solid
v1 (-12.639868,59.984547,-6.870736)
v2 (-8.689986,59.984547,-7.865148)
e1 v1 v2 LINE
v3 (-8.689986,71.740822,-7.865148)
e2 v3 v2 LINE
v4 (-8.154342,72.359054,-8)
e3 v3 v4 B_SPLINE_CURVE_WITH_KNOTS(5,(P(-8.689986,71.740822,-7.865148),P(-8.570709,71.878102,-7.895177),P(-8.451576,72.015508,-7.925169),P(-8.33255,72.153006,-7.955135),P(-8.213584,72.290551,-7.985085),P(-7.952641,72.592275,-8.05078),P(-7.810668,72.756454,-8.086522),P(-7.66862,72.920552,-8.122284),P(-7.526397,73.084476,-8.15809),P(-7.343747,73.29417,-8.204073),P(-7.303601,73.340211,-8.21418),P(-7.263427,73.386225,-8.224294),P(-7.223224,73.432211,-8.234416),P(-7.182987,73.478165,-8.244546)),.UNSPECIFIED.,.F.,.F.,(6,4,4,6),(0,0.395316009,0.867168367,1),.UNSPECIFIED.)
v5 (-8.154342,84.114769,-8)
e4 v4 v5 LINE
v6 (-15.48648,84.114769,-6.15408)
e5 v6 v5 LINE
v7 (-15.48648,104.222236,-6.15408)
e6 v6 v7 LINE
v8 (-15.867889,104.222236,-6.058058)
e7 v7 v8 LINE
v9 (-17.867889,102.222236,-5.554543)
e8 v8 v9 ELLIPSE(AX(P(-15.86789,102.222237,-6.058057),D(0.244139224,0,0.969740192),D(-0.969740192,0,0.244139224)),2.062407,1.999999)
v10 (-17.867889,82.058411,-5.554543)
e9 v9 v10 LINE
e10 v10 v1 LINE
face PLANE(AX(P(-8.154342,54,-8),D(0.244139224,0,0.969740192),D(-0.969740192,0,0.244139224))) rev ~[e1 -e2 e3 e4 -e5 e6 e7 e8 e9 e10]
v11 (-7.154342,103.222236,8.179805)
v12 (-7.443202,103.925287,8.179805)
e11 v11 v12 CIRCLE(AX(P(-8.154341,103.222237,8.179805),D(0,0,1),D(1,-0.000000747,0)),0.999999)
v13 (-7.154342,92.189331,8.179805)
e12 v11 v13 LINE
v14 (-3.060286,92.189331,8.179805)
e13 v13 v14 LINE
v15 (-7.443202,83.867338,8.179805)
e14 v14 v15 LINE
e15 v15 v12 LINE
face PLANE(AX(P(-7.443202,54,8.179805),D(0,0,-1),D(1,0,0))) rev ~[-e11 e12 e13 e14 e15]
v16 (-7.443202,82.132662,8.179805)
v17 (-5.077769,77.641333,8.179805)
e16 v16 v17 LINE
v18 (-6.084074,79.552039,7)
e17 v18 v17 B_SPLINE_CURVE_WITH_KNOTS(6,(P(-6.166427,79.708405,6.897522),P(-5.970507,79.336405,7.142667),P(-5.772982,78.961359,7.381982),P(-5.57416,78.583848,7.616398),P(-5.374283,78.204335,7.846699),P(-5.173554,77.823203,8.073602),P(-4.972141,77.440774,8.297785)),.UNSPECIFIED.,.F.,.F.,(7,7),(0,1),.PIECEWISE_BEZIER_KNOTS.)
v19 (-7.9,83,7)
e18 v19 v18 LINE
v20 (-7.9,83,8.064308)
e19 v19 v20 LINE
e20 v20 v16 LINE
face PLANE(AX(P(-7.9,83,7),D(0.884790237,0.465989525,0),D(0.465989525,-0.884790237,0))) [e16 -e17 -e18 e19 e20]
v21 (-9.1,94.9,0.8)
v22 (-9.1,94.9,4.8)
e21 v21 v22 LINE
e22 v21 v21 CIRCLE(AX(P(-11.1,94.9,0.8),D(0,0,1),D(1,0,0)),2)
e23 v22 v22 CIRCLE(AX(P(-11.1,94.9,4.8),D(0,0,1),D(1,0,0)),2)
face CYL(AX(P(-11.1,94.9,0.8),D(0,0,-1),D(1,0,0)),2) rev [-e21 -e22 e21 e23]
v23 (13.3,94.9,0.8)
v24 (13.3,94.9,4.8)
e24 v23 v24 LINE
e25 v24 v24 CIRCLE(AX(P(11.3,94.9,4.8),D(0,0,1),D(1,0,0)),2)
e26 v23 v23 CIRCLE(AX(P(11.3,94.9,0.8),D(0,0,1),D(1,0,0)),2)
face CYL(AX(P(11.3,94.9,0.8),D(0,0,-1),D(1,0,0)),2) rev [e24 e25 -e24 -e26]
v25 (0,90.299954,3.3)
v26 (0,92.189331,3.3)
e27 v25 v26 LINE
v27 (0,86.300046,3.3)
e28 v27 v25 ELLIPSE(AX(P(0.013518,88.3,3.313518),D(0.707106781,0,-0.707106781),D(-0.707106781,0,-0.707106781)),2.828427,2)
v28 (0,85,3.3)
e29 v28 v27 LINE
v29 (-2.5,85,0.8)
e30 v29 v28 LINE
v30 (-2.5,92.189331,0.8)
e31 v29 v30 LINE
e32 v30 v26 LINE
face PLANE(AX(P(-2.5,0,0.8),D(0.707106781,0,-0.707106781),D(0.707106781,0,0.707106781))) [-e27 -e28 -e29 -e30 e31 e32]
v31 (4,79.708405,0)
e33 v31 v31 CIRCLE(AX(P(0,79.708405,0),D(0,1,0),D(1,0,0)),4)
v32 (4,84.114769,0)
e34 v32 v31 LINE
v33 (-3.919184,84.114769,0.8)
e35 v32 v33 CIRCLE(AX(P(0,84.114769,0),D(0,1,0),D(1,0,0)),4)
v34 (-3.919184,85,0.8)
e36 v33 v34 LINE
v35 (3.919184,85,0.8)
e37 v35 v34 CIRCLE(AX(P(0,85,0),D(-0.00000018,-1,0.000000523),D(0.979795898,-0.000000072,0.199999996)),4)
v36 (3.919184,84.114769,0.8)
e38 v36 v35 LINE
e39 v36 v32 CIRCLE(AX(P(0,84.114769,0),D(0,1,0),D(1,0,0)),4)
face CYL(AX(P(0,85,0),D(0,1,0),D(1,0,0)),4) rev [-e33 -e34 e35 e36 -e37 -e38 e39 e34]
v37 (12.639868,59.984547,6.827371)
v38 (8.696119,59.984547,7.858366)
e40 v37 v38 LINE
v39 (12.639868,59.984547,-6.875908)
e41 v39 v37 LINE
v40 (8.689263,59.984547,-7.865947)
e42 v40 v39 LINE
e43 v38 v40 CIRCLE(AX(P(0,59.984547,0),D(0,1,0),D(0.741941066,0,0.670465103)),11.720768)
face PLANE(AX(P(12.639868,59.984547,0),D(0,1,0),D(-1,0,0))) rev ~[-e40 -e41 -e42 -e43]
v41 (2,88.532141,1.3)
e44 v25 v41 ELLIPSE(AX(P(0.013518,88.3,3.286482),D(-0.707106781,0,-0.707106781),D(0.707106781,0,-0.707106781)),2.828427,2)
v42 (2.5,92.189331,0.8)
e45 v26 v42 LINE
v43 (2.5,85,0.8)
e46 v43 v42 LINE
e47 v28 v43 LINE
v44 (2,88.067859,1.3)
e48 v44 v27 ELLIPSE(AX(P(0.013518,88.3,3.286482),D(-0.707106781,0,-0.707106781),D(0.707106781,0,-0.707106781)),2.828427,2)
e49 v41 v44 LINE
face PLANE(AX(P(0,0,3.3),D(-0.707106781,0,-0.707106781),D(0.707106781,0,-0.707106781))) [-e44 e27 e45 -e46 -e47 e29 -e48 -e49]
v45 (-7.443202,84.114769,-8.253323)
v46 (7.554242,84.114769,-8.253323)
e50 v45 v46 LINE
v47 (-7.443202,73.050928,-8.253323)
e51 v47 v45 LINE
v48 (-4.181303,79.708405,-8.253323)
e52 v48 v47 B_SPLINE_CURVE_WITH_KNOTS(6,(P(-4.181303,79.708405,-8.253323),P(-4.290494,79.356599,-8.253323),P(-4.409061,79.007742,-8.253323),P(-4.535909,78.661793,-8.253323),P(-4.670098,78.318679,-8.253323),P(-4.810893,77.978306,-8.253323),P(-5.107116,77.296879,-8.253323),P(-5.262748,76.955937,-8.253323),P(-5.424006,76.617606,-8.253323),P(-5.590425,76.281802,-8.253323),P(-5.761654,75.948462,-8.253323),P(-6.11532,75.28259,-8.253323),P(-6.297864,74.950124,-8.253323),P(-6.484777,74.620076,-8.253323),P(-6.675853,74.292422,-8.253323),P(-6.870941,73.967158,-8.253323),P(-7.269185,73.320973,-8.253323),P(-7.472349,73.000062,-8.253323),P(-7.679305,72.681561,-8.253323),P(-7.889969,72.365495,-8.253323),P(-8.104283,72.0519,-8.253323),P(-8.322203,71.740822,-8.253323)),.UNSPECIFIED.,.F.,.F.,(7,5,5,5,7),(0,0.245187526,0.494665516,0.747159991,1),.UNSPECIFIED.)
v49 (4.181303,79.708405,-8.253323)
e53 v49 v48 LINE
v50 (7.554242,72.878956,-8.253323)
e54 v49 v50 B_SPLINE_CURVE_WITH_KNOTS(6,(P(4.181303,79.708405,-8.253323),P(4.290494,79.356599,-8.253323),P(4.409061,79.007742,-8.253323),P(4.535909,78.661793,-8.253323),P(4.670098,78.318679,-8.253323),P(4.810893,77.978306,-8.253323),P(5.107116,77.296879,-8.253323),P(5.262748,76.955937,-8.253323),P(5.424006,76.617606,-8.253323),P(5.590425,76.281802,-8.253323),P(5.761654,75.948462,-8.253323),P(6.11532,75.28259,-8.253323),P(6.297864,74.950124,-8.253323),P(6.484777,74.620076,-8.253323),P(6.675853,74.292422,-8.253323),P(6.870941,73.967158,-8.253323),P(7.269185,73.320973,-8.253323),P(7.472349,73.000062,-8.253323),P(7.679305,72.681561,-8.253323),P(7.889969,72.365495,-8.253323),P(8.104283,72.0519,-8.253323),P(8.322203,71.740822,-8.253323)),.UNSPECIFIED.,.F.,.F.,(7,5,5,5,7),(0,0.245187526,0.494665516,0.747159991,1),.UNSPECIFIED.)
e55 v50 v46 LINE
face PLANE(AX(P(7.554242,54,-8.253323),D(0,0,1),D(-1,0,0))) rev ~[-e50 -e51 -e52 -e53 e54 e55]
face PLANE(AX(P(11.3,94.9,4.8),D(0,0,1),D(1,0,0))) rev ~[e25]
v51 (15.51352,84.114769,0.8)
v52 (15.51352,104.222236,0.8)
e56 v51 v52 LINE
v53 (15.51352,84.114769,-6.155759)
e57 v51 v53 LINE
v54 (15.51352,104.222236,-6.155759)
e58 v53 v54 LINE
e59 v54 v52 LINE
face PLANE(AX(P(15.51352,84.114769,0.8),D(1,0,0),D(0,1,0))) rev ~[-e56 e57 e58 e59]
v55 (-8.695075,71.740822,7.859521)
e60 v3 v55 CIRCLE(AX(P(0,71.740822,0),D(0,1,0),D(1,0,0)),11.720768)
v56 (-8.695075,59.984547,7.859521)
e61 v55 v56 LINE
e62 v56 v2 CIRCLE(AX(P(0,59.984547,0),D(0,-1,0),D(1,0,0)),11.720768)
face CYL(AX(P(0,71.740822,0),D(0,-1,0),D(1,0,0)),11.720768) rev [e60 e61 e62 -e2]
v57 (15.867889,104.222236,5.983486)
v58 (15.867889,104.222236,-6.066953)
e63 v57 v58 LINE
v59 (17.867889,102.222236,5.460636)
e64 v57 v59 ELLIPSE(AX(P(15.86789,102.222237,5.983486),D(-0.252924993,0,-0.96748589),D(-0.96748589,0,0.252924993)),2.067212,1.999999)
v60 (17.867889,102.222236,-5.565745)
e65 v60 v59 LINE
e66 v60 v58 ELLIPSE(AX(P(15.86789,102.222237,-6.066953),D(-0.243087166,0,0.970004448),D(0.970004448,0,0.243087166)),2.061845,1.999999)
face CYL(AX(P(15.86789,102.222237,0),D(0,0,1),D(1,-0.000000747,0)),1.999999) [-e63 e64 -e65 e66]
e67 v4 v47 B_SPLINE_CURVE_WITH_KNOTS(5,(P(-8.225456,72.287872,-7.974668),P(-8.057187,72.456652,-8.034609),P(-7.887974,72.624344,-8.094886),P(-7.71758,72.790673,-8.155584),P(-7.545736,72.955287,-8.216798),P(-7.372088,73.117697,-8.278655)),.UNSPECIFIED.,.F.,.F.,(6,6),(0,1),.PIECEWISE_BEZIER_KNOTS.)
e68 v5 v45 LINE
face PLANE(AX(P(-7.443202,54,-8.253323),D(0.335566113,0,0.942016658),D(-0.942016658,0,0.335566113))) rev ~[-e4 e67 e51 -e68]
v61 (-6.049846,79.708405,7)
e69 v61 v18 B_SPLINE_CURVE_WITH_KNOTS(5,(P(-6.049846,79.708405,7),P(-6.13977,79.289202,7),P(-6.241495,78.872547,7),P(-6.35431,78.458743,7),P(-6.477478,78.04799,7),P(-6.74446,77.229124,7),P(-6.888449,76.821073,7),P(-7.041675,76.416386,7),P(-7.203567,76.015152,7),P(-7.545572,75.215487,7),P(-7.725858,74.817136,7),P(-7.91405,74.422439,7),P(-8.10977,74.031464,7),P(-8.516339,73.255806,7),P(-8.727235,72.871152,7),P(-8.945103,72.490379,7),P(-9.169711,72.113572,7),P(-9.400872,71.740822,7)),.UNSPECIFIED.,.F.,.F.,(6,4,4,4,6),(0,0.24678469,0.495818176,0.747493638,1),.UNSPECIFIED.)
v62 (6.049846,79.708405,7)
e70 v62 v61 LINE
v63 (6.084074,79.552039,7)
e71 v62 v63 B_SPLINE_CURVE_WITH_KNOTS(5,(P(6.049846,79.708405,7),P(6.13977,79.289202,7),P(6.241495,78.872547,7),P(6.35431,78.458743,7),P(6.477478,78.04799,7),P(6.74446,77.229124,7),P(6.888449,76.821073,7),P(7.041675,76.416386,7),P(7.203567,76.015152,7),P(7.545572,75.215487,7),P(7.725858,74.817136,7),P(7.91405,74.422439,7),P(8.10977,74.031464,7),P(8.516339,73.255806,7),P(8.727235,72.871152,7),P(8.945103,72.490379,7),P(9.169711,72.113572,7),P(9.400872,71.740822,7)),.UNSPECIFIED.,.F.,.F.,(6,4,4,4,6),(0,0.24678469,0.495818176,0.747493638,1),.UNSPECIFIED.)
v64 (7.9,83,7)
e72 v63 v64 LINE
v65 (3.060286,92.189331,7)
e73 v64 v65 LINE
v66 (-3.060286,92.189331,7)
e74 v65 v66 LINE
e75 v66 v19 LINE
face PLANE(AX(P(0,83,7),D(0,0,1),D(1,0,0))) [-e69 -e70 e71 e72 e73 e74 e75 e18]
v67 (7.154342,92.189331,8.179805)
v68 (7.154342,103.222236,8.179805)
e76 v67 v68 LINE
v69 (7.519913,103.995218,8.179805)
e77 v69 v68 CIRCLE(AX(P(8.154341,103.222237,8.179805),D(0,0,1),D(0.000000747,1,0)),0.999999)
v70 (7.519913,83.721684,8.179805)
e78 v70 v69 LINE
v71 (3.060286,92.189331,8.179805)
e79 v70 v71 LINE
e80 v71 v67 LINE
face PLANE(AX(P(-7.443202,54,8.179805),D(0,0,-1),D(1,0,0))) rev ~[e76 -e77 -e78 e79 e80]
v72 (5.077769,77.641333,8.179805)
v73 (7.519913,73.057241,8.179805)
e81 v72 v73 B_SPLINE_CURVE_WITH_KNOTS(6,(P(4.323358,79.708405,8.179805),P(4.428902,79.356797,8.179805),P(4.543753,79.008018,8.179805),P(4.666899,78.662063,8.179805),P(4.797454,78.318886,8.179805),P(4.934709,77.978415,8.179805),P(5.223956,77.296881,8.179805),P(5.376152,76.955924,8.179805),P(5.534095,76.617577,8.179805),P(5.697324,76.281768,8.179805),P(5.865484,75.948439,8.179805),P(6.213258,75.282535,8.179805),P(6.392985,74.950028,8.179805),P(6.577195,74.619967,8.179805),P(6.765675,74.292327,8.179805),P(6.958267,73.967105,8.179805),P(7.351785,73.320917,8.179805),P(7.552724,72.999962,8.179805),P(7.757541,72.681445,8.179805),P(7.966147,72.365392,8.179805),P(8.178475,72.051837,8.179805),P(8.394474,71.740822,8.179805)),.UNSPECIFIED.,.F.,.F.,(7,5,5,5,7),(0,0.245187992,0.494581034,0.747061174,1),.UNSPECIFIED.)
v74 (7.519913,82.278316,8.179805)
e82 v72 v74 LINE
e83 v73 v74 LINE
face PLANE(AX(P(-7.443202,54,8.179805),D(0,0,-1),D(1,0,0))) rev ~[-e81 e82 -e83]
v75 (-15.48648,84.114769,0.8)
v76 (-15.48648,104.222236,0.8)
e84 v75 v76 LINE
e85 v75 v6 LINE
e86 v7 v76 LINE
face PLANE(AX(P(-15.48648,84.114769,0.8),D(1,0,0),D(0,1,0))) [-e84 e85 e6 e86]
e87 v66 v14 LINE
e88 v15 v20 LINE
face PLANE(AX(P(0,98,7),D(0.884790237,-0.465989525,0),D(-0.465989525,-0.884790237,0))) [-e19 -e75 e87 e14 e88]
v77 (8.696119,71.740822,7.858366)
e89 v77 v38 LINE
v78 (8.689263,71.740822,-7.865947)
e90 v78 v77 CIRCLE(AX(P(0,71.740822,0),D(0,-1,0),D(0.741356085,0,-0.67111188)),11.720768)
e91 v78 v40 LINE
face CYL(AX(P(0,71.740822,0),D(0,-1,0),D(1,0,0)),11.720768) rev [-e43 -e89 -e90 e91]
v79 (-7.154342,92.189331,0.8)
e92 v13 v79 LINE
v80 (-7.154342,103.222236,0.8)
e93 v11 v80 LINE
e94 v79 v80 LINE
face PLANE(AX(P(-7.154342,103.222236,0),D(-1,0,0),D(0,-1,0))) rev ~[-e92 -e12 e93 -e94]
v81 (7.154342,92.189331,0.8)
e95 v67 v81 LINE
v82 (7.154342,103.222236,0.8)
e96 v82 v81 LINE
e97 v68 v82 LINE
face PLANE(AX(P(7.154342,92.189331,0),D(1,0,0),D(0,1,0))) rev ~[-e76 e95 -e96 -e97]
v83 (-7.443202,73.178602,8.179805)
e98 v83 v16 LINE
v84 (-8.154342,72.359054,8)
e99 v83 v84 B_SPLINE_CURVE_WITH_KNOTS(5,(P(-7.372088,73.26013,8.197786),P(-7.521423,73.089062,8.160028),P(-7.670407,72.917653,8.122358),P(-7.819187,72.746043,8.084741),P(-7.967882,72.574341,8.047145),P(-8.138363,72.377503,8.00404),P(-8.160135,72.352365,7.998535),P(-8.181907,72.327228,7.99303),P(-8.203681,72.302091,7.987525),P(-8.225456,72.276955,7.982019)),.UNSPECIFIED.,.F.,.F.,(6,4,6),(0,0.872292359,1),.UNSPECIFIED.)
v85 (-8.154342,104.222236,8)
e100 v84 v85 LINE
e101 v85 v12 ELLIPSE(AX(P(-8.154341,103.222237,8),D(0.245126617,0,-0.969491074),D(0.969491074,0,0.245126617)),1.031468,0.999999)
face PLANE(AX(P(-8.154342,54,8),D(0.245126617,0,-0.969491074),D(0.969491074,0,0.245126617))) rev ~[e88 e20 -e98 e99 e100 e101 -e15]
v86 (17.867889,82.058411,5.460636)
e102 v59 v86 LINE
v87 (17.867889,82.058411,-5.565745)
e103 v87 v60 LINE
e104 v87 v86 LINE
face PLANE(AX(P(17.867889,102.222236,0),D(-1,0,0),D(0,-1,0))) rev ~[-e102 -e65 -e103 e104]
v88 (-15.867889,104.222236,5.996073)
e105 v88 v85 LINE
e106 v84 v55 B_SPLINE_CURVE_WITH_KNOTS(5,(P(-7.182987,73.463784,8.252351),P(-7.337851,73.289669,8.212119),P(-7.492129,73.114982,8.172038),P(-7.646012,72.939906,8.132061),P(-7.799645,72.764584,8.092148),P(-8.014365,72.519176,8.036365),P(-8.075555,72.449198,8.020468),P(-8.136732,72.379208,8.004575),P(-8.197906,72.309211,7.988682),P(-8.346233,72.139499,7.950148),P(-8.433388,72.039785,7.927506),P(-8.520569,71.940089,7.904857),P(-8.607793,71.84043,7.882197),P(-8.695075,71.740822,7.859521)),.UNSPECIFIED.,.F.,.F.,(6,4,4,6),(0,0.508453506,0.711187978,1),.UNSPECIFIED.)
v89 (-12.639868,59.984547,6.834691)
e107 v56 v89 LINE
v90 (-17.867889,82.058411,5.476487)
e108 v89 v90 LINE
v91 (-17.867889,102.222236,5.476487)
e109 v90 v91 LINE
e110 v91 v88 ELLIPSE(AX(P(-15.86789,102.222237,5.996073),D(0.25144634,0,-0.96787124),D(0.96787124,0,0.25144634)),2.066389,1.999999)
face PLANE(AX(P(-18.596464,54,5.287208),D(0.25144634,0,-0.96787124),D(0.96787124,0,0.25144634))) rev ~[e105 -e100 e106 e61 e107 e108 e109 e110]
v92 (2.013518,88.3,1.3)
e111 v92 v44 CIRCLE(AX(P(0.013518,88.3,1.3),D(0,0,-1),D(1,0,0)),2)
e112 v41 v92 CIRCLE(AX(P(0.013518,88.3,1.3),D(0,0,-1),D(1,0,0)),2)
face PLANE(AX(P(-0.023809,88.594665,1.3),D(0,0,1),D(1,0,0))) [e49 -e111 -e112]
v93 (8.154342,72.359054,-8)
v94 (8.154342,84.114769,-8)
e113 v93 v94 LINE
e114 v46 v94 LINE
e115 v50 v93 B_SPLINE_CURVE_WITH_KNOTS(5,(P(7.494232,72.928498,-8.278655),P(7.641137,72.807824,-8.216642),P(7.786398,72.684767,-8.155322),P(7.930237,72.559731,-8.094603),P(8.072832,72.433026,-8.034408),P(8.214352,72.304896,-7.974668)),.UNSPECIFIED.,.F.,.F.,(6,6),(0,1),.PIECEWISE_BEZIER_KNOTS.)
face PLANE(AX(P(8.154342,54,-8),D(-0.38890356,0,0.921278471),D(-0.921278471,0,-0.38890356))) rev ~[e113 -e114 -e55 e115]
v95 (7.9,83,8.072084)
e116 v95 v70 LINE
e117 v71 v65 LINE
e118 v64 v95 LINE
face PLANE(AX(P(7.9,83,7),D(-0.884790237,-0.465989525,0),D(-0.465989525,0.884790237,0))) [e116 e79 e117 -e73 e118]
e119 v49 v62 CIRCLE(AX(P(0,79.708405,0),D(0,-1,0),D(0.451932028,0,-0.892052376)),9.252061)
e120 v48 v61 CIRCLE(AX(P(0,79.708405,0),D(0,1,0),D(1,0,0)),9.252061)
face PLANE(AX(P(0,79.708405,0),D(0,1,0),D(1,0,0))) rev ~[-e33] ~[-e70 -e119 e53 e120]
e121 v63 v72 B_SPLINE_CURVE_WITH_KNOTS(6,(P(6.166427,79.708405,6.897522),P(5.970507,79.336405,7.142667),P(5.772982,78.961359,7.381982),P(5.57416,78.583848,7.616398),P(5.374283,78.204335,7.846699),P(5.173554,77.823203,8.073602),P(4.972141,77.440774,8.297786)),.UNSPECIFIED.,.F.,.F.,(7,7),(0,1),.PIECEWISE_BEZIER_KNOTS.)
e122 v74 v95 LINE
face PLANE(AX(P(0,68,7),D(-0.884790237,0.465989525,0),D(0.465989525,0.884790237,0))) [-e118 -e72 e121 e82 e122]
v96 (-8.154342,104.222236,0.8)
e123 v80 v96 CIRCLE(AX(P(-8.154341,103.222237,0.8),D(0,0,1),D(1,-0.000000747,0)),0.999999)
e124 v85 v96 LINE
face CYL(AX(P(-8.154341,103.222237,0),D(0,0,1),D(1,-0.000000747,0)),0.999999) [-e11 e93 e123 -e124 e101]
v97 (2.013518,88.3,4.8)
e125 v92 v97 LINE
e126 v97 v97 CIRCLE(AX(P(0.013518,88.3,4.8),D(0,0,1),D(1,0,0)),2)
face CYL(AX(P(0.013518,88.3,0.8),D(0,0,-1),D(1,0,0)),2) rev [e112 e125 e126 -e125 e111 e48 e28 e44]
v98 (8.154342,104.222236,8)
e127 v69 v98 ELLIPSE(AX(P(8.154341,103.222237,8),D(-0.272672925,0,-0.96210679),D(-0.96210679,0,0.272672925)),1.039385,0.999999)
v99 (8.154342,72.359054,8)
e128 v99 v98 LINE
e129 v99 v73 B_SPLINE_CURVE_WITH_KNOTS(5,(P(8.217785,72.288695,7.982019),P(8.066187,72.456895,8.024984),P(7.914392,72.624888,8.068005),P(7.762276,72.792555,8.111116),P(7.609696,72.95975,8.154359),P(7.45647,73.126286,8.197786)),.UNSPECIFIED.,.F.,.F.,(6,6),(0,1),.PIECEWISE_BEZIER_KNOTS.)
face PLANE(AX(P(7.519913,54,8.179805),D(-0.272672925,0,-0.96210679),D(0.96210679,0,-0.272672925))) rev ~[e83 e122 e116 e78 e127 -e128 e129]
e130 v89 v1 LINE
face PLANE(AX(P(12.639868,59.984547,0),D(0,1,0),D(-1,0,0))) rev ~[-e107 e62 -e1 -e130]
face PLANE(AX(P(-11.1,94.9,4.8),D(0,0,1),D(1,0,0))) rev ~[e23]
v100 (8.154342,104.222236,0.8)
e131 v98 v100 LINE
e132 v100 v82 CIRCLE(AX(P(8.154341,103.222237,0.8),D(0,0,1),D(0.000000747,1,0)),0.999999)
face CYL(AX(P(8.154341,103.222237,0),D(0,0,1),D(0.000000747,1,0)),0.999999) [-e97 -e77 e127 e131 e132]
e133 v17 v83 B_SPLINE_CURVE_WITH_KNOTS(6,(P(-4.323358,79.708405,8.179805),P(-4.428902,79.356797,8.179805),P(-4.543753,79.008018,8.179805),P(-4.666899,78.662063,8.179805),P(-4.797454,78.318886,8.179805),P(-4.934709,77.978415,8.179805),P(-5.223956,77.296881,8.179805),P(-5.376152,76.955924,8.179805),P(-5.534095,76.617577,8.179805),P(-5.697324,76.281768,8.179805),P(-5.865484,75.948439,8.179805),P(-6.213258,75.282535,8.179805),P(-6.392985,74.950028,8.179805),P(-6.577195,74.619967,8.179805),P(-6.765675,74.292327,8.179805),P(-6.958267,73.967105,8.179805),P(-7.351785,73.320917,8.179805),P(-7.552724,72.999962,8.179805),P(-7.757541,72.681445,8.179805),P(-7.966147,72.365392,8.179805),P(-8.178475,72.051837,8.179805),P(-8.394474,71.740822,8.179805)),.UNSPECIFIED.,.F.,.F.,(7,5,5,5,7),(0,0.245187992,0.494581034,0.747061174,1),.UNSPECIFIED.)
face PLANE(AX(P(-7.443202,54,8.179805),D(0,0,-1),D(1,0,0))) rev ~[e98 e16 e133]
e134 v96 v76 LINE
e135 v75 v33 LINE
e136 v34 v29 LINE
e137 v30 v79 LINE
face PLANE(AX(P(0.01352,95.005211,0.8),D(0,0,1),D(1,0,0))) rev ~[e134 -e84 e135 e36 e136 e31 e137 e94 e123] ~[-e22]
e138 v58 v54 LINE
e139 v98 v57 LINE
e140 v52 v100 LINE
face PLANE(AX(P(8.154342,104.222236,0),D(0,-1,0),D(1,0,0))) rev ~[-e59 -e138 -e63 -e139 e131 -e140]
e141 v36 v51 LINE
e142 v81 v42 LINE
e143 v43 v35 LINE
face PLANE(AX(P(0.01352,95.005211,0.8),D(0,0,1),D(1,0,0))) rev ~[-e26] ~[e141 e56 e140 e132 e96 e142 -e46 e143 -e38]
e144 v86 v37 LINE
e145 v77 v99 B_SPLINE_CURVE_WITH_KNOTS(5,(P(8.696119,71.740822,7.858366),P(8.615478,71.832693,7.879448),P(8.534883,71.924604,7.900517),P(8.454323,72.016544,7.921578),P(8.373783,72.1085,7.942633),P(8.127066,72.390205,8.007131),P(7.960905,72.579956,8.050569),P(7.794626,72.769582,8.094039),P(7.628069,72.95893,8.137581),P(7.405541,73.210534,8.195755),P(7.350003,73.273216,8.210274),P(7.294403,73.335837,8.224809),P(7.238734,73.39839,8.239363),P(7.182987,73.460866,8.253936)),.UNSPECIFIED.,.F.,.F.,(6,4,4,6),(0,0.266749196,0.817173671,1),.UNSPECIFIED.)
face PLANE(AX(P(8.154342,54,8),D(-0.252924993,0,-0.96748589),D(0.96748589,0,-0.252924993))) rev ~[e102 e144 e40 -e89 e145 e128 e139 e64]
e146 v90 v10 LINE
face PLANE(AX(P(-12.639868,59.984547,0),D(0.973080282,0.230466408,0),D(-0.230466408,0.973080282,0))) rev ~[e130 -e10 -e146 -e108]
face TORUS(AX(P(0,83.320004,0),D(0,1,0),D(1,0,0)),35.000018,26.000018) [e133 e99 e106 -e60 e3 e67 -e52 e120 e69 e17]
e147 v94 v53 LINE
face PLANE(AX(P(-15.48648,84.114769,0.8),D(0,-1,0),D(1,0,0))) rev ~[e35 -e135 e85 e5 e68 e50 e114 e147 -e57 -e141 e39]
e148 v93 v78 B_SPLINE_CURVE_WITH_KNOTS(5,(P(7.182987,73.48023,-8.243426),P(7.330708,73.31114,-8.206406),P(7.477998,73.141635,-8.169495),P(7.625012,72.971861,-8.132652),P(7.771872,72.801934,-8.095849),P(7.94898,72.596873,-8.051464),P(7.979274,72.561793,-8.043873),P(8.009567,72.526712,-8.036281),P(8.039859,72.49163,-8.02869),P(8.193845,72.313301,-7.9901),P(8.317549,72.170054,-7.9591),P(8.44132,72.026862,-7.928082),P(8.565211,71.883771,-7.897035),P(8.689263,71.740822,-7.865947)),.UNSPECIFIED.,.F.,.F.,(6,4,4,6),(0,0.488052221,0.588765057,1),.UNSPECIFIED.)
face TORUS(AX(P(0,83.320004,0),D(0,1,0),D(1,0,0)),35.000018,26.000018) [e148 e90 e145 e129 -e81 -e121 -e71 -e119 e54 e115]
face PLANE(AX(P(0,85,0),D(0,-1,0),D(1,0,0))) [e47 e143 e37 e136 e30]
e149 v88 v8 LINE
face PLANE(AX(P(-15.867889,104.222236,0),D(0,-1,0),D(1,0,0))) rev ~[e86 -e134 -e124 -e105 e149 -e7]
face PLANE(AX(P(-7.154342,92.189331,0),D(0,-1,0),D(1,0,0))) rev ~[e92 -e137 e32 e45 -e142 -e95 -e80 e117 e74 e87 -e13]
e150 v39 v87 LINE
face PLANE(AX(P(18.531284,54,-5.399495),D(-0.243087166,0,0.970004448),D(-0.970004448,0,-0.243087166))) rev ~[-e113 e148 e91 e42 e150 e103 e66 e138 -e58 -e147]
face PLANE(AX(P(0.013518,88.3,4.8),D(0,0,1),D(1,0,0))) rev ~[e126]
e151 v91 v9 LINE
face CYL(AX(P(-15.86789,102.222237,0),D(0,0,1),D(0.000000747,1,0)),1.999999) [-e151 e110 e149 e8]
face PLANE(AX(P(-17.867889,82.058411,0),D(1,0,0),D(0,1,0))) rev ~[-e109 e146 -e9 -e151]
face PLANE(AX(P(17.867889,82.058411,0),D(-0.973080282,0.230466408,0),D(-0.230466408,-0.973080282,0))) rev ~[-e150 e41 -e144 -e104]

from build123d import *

# Parameters (mm, degrees)
PAD_DEPTH       = 12
POCKET_DEPTH    = 62
SKETCH019_W     = 31
SKETCH019_H     = 21.780884
POCKET002_DEPTH = 17
SKETCH020_R     = 2
POCKET003_DEPTH = 4
CYLINDER_R      = 4
CYLINDER_DEPTH  = 28
POCKET032_DEPTH = 5
SKETCH084_W     = 7.885986
SKETCH084_H     = 7.189331
PAD020_DEPTH    = 0.5
POCKET038_DEPTH = 100


with BuildPart() as part:
    # Sketch010 → Pad (new body, symmetric)
    with BuildSketch(Plane.XY):
        with BuildLine():
            Line((12.639868, 59.984547), (-12.639868, 59.984547))
            Line((-12.639868, 59.984547), (-17.867889, 82.058411))
            Line((-17.867889, 82.058411), (-17.867889, 102.222236))
            ThreePointArc((-15.867889, 104.222236), (-17.282103, 103.63645), (-17.867889, 102.222236))
            Line((-15.867889, 104.222236), (-8.154342, 104.222236))
            ThreePointArc((-7.154342, 103.222236), (-7.447235, 103.929343), (-8.154342, 104.222236))
            Line((-7.154342, 103.222236), (-7.154342, 92.189331))
            Line((-7.154342, 92.189331), (7.154342, 92.189331))
            Line((7.154342, 92.189331), (7.154342, 103.222236))
            ThreePointArc((8.154342, 104.222236), (7.447235, 103.929343), (7.154342, 103.222236))
            Line((8.154342, 104.222236), (15.867889, 104.222236))
            ThreePointArc((17.867889, 102.222236), (17.282103, 103.63645), (15.867889, 104.222236))
            Line((17.867889, 102.222236), (17.867889, 82.058411))
            Line((17.867889, 82.058411), (12.639868, 59.984547))
        make_face()
    extrude(amount=PAD_DEPTH, both=True)

    # Sketch011 → Pocket (cut)
    with BuildSketch(Plane.XZ.offset(-54)):
        Polygon((0, 13.813917), (-22.117895, 13.813917), (-22.117895, -0.189388), (-22.117895, -17.743416), (0, -17.743416), (22.658901, -17.743416), (22.658901, -0.111897), (22.658901, 13.813917), align=None)
        Polygon((-18.596464, 0), (-18.596464, 5.287208), (-8.154342, 8), (-7.443202, 8.179805), (0, 8.179805), (7.519913, 8.179805), (8.154342, 8), (18.531284, 5.287208), (18.531284, -0.112287), (18.531284, -5.399495), (8.154342, -8), (7.554242, -8.253323), (0.11104, -8.253323), (-7.443202, -8.253323), (-8.154342, -8), (-18.596464, -5.371119), align=None, mode=Mode.SUBTRACT)
    extrude(amount=-POCKET_DEPTH, mode=Mode.SUBTRACT)

    # Sketch019 → Pocket002 (cut)
    with BuildSketch(Plane.XY.offset(0.8)):
        with Locations((0.01352, 95.005211)):
            Rectangle(SKETCH019_W, SKETCH019_H)
    extrude(amount=-POCKET002_DEPTH, mode=Mode.SUBTRACT)

    # Sketch020 → Pocket003 (cut)
    with BuildSketch(Plane.XY.offset(0.8)):
        with Locations((-11.1, 94.9)):
            Circle(SKETCH020_R)
        with Locations((11.3, 94.9)):
            Circle(SKETCH020_R)
        with Locations((0.013518, 88.3)):
            Circle(SKETCH020_R)
    extrude(amount=POCKET003_DEPTH, mode=Mode.SUBTRACT)

    # Cylinder → Cylinder (cut)
    with BuildSketch(Plane.XZ.offset(-85)):
        Circle(CYLINDER_R)
    extrude(amount=CYLINDER_DEPTH, mode=Mode.SUBTRACT)

    # Sketch067 → Pocket032 (cut)
    with BuildSketch(Plane.XY.offset(7)):
        Polygon((-7.9, 83), (0, 68), (7.9, 83), (0, 98), align=None)
    extrude(amount=POCKET032_DEPTH, mode=Mode.SUBTRACT)

    # Sketch084 → Pad020 (join)
    with BuildSketch(Plane.XY.offset(0.8)):
        with Locations((-0.023809, 88.594665)):
            Rectangle(SKETCH084_W, SKETCH084_H)
    extrude(amount=PAD020_DEPTH)

    # Sketch085 → Groove (revolve, cut)
    with BuildSketch(Plane.XY):
        with BuildLine():
            ThreePointArc((9.252061, 79.708405), (10.164814, 75.624968), (11.720768, 71.740822))
            Line((11.720768, 71.740822), (11.720768, 58.4589))
            Line((11.720768, 58.4589), (0, 58.4589))
            Line((0, 58.4589), (0, 79.708405))
            Line((9.252061, 79.708405), (0, 79.708405))
        make_face()
    revolve(axis=Axis((0, 0, 0), (0, 1, 0)), mode=Mode.SUBTRACT)

    # Sketch089 → Pocket038 (cut)
    with BuildSketch(Plane.XZ):
        Polygon((-2.5, 0.8), (0, 3.3), (2.5, 0.8), align=None)
    extrude(amount=-POCKET038_DEPTH, mode=Mode.SUBTRACT)


solid = part.part
